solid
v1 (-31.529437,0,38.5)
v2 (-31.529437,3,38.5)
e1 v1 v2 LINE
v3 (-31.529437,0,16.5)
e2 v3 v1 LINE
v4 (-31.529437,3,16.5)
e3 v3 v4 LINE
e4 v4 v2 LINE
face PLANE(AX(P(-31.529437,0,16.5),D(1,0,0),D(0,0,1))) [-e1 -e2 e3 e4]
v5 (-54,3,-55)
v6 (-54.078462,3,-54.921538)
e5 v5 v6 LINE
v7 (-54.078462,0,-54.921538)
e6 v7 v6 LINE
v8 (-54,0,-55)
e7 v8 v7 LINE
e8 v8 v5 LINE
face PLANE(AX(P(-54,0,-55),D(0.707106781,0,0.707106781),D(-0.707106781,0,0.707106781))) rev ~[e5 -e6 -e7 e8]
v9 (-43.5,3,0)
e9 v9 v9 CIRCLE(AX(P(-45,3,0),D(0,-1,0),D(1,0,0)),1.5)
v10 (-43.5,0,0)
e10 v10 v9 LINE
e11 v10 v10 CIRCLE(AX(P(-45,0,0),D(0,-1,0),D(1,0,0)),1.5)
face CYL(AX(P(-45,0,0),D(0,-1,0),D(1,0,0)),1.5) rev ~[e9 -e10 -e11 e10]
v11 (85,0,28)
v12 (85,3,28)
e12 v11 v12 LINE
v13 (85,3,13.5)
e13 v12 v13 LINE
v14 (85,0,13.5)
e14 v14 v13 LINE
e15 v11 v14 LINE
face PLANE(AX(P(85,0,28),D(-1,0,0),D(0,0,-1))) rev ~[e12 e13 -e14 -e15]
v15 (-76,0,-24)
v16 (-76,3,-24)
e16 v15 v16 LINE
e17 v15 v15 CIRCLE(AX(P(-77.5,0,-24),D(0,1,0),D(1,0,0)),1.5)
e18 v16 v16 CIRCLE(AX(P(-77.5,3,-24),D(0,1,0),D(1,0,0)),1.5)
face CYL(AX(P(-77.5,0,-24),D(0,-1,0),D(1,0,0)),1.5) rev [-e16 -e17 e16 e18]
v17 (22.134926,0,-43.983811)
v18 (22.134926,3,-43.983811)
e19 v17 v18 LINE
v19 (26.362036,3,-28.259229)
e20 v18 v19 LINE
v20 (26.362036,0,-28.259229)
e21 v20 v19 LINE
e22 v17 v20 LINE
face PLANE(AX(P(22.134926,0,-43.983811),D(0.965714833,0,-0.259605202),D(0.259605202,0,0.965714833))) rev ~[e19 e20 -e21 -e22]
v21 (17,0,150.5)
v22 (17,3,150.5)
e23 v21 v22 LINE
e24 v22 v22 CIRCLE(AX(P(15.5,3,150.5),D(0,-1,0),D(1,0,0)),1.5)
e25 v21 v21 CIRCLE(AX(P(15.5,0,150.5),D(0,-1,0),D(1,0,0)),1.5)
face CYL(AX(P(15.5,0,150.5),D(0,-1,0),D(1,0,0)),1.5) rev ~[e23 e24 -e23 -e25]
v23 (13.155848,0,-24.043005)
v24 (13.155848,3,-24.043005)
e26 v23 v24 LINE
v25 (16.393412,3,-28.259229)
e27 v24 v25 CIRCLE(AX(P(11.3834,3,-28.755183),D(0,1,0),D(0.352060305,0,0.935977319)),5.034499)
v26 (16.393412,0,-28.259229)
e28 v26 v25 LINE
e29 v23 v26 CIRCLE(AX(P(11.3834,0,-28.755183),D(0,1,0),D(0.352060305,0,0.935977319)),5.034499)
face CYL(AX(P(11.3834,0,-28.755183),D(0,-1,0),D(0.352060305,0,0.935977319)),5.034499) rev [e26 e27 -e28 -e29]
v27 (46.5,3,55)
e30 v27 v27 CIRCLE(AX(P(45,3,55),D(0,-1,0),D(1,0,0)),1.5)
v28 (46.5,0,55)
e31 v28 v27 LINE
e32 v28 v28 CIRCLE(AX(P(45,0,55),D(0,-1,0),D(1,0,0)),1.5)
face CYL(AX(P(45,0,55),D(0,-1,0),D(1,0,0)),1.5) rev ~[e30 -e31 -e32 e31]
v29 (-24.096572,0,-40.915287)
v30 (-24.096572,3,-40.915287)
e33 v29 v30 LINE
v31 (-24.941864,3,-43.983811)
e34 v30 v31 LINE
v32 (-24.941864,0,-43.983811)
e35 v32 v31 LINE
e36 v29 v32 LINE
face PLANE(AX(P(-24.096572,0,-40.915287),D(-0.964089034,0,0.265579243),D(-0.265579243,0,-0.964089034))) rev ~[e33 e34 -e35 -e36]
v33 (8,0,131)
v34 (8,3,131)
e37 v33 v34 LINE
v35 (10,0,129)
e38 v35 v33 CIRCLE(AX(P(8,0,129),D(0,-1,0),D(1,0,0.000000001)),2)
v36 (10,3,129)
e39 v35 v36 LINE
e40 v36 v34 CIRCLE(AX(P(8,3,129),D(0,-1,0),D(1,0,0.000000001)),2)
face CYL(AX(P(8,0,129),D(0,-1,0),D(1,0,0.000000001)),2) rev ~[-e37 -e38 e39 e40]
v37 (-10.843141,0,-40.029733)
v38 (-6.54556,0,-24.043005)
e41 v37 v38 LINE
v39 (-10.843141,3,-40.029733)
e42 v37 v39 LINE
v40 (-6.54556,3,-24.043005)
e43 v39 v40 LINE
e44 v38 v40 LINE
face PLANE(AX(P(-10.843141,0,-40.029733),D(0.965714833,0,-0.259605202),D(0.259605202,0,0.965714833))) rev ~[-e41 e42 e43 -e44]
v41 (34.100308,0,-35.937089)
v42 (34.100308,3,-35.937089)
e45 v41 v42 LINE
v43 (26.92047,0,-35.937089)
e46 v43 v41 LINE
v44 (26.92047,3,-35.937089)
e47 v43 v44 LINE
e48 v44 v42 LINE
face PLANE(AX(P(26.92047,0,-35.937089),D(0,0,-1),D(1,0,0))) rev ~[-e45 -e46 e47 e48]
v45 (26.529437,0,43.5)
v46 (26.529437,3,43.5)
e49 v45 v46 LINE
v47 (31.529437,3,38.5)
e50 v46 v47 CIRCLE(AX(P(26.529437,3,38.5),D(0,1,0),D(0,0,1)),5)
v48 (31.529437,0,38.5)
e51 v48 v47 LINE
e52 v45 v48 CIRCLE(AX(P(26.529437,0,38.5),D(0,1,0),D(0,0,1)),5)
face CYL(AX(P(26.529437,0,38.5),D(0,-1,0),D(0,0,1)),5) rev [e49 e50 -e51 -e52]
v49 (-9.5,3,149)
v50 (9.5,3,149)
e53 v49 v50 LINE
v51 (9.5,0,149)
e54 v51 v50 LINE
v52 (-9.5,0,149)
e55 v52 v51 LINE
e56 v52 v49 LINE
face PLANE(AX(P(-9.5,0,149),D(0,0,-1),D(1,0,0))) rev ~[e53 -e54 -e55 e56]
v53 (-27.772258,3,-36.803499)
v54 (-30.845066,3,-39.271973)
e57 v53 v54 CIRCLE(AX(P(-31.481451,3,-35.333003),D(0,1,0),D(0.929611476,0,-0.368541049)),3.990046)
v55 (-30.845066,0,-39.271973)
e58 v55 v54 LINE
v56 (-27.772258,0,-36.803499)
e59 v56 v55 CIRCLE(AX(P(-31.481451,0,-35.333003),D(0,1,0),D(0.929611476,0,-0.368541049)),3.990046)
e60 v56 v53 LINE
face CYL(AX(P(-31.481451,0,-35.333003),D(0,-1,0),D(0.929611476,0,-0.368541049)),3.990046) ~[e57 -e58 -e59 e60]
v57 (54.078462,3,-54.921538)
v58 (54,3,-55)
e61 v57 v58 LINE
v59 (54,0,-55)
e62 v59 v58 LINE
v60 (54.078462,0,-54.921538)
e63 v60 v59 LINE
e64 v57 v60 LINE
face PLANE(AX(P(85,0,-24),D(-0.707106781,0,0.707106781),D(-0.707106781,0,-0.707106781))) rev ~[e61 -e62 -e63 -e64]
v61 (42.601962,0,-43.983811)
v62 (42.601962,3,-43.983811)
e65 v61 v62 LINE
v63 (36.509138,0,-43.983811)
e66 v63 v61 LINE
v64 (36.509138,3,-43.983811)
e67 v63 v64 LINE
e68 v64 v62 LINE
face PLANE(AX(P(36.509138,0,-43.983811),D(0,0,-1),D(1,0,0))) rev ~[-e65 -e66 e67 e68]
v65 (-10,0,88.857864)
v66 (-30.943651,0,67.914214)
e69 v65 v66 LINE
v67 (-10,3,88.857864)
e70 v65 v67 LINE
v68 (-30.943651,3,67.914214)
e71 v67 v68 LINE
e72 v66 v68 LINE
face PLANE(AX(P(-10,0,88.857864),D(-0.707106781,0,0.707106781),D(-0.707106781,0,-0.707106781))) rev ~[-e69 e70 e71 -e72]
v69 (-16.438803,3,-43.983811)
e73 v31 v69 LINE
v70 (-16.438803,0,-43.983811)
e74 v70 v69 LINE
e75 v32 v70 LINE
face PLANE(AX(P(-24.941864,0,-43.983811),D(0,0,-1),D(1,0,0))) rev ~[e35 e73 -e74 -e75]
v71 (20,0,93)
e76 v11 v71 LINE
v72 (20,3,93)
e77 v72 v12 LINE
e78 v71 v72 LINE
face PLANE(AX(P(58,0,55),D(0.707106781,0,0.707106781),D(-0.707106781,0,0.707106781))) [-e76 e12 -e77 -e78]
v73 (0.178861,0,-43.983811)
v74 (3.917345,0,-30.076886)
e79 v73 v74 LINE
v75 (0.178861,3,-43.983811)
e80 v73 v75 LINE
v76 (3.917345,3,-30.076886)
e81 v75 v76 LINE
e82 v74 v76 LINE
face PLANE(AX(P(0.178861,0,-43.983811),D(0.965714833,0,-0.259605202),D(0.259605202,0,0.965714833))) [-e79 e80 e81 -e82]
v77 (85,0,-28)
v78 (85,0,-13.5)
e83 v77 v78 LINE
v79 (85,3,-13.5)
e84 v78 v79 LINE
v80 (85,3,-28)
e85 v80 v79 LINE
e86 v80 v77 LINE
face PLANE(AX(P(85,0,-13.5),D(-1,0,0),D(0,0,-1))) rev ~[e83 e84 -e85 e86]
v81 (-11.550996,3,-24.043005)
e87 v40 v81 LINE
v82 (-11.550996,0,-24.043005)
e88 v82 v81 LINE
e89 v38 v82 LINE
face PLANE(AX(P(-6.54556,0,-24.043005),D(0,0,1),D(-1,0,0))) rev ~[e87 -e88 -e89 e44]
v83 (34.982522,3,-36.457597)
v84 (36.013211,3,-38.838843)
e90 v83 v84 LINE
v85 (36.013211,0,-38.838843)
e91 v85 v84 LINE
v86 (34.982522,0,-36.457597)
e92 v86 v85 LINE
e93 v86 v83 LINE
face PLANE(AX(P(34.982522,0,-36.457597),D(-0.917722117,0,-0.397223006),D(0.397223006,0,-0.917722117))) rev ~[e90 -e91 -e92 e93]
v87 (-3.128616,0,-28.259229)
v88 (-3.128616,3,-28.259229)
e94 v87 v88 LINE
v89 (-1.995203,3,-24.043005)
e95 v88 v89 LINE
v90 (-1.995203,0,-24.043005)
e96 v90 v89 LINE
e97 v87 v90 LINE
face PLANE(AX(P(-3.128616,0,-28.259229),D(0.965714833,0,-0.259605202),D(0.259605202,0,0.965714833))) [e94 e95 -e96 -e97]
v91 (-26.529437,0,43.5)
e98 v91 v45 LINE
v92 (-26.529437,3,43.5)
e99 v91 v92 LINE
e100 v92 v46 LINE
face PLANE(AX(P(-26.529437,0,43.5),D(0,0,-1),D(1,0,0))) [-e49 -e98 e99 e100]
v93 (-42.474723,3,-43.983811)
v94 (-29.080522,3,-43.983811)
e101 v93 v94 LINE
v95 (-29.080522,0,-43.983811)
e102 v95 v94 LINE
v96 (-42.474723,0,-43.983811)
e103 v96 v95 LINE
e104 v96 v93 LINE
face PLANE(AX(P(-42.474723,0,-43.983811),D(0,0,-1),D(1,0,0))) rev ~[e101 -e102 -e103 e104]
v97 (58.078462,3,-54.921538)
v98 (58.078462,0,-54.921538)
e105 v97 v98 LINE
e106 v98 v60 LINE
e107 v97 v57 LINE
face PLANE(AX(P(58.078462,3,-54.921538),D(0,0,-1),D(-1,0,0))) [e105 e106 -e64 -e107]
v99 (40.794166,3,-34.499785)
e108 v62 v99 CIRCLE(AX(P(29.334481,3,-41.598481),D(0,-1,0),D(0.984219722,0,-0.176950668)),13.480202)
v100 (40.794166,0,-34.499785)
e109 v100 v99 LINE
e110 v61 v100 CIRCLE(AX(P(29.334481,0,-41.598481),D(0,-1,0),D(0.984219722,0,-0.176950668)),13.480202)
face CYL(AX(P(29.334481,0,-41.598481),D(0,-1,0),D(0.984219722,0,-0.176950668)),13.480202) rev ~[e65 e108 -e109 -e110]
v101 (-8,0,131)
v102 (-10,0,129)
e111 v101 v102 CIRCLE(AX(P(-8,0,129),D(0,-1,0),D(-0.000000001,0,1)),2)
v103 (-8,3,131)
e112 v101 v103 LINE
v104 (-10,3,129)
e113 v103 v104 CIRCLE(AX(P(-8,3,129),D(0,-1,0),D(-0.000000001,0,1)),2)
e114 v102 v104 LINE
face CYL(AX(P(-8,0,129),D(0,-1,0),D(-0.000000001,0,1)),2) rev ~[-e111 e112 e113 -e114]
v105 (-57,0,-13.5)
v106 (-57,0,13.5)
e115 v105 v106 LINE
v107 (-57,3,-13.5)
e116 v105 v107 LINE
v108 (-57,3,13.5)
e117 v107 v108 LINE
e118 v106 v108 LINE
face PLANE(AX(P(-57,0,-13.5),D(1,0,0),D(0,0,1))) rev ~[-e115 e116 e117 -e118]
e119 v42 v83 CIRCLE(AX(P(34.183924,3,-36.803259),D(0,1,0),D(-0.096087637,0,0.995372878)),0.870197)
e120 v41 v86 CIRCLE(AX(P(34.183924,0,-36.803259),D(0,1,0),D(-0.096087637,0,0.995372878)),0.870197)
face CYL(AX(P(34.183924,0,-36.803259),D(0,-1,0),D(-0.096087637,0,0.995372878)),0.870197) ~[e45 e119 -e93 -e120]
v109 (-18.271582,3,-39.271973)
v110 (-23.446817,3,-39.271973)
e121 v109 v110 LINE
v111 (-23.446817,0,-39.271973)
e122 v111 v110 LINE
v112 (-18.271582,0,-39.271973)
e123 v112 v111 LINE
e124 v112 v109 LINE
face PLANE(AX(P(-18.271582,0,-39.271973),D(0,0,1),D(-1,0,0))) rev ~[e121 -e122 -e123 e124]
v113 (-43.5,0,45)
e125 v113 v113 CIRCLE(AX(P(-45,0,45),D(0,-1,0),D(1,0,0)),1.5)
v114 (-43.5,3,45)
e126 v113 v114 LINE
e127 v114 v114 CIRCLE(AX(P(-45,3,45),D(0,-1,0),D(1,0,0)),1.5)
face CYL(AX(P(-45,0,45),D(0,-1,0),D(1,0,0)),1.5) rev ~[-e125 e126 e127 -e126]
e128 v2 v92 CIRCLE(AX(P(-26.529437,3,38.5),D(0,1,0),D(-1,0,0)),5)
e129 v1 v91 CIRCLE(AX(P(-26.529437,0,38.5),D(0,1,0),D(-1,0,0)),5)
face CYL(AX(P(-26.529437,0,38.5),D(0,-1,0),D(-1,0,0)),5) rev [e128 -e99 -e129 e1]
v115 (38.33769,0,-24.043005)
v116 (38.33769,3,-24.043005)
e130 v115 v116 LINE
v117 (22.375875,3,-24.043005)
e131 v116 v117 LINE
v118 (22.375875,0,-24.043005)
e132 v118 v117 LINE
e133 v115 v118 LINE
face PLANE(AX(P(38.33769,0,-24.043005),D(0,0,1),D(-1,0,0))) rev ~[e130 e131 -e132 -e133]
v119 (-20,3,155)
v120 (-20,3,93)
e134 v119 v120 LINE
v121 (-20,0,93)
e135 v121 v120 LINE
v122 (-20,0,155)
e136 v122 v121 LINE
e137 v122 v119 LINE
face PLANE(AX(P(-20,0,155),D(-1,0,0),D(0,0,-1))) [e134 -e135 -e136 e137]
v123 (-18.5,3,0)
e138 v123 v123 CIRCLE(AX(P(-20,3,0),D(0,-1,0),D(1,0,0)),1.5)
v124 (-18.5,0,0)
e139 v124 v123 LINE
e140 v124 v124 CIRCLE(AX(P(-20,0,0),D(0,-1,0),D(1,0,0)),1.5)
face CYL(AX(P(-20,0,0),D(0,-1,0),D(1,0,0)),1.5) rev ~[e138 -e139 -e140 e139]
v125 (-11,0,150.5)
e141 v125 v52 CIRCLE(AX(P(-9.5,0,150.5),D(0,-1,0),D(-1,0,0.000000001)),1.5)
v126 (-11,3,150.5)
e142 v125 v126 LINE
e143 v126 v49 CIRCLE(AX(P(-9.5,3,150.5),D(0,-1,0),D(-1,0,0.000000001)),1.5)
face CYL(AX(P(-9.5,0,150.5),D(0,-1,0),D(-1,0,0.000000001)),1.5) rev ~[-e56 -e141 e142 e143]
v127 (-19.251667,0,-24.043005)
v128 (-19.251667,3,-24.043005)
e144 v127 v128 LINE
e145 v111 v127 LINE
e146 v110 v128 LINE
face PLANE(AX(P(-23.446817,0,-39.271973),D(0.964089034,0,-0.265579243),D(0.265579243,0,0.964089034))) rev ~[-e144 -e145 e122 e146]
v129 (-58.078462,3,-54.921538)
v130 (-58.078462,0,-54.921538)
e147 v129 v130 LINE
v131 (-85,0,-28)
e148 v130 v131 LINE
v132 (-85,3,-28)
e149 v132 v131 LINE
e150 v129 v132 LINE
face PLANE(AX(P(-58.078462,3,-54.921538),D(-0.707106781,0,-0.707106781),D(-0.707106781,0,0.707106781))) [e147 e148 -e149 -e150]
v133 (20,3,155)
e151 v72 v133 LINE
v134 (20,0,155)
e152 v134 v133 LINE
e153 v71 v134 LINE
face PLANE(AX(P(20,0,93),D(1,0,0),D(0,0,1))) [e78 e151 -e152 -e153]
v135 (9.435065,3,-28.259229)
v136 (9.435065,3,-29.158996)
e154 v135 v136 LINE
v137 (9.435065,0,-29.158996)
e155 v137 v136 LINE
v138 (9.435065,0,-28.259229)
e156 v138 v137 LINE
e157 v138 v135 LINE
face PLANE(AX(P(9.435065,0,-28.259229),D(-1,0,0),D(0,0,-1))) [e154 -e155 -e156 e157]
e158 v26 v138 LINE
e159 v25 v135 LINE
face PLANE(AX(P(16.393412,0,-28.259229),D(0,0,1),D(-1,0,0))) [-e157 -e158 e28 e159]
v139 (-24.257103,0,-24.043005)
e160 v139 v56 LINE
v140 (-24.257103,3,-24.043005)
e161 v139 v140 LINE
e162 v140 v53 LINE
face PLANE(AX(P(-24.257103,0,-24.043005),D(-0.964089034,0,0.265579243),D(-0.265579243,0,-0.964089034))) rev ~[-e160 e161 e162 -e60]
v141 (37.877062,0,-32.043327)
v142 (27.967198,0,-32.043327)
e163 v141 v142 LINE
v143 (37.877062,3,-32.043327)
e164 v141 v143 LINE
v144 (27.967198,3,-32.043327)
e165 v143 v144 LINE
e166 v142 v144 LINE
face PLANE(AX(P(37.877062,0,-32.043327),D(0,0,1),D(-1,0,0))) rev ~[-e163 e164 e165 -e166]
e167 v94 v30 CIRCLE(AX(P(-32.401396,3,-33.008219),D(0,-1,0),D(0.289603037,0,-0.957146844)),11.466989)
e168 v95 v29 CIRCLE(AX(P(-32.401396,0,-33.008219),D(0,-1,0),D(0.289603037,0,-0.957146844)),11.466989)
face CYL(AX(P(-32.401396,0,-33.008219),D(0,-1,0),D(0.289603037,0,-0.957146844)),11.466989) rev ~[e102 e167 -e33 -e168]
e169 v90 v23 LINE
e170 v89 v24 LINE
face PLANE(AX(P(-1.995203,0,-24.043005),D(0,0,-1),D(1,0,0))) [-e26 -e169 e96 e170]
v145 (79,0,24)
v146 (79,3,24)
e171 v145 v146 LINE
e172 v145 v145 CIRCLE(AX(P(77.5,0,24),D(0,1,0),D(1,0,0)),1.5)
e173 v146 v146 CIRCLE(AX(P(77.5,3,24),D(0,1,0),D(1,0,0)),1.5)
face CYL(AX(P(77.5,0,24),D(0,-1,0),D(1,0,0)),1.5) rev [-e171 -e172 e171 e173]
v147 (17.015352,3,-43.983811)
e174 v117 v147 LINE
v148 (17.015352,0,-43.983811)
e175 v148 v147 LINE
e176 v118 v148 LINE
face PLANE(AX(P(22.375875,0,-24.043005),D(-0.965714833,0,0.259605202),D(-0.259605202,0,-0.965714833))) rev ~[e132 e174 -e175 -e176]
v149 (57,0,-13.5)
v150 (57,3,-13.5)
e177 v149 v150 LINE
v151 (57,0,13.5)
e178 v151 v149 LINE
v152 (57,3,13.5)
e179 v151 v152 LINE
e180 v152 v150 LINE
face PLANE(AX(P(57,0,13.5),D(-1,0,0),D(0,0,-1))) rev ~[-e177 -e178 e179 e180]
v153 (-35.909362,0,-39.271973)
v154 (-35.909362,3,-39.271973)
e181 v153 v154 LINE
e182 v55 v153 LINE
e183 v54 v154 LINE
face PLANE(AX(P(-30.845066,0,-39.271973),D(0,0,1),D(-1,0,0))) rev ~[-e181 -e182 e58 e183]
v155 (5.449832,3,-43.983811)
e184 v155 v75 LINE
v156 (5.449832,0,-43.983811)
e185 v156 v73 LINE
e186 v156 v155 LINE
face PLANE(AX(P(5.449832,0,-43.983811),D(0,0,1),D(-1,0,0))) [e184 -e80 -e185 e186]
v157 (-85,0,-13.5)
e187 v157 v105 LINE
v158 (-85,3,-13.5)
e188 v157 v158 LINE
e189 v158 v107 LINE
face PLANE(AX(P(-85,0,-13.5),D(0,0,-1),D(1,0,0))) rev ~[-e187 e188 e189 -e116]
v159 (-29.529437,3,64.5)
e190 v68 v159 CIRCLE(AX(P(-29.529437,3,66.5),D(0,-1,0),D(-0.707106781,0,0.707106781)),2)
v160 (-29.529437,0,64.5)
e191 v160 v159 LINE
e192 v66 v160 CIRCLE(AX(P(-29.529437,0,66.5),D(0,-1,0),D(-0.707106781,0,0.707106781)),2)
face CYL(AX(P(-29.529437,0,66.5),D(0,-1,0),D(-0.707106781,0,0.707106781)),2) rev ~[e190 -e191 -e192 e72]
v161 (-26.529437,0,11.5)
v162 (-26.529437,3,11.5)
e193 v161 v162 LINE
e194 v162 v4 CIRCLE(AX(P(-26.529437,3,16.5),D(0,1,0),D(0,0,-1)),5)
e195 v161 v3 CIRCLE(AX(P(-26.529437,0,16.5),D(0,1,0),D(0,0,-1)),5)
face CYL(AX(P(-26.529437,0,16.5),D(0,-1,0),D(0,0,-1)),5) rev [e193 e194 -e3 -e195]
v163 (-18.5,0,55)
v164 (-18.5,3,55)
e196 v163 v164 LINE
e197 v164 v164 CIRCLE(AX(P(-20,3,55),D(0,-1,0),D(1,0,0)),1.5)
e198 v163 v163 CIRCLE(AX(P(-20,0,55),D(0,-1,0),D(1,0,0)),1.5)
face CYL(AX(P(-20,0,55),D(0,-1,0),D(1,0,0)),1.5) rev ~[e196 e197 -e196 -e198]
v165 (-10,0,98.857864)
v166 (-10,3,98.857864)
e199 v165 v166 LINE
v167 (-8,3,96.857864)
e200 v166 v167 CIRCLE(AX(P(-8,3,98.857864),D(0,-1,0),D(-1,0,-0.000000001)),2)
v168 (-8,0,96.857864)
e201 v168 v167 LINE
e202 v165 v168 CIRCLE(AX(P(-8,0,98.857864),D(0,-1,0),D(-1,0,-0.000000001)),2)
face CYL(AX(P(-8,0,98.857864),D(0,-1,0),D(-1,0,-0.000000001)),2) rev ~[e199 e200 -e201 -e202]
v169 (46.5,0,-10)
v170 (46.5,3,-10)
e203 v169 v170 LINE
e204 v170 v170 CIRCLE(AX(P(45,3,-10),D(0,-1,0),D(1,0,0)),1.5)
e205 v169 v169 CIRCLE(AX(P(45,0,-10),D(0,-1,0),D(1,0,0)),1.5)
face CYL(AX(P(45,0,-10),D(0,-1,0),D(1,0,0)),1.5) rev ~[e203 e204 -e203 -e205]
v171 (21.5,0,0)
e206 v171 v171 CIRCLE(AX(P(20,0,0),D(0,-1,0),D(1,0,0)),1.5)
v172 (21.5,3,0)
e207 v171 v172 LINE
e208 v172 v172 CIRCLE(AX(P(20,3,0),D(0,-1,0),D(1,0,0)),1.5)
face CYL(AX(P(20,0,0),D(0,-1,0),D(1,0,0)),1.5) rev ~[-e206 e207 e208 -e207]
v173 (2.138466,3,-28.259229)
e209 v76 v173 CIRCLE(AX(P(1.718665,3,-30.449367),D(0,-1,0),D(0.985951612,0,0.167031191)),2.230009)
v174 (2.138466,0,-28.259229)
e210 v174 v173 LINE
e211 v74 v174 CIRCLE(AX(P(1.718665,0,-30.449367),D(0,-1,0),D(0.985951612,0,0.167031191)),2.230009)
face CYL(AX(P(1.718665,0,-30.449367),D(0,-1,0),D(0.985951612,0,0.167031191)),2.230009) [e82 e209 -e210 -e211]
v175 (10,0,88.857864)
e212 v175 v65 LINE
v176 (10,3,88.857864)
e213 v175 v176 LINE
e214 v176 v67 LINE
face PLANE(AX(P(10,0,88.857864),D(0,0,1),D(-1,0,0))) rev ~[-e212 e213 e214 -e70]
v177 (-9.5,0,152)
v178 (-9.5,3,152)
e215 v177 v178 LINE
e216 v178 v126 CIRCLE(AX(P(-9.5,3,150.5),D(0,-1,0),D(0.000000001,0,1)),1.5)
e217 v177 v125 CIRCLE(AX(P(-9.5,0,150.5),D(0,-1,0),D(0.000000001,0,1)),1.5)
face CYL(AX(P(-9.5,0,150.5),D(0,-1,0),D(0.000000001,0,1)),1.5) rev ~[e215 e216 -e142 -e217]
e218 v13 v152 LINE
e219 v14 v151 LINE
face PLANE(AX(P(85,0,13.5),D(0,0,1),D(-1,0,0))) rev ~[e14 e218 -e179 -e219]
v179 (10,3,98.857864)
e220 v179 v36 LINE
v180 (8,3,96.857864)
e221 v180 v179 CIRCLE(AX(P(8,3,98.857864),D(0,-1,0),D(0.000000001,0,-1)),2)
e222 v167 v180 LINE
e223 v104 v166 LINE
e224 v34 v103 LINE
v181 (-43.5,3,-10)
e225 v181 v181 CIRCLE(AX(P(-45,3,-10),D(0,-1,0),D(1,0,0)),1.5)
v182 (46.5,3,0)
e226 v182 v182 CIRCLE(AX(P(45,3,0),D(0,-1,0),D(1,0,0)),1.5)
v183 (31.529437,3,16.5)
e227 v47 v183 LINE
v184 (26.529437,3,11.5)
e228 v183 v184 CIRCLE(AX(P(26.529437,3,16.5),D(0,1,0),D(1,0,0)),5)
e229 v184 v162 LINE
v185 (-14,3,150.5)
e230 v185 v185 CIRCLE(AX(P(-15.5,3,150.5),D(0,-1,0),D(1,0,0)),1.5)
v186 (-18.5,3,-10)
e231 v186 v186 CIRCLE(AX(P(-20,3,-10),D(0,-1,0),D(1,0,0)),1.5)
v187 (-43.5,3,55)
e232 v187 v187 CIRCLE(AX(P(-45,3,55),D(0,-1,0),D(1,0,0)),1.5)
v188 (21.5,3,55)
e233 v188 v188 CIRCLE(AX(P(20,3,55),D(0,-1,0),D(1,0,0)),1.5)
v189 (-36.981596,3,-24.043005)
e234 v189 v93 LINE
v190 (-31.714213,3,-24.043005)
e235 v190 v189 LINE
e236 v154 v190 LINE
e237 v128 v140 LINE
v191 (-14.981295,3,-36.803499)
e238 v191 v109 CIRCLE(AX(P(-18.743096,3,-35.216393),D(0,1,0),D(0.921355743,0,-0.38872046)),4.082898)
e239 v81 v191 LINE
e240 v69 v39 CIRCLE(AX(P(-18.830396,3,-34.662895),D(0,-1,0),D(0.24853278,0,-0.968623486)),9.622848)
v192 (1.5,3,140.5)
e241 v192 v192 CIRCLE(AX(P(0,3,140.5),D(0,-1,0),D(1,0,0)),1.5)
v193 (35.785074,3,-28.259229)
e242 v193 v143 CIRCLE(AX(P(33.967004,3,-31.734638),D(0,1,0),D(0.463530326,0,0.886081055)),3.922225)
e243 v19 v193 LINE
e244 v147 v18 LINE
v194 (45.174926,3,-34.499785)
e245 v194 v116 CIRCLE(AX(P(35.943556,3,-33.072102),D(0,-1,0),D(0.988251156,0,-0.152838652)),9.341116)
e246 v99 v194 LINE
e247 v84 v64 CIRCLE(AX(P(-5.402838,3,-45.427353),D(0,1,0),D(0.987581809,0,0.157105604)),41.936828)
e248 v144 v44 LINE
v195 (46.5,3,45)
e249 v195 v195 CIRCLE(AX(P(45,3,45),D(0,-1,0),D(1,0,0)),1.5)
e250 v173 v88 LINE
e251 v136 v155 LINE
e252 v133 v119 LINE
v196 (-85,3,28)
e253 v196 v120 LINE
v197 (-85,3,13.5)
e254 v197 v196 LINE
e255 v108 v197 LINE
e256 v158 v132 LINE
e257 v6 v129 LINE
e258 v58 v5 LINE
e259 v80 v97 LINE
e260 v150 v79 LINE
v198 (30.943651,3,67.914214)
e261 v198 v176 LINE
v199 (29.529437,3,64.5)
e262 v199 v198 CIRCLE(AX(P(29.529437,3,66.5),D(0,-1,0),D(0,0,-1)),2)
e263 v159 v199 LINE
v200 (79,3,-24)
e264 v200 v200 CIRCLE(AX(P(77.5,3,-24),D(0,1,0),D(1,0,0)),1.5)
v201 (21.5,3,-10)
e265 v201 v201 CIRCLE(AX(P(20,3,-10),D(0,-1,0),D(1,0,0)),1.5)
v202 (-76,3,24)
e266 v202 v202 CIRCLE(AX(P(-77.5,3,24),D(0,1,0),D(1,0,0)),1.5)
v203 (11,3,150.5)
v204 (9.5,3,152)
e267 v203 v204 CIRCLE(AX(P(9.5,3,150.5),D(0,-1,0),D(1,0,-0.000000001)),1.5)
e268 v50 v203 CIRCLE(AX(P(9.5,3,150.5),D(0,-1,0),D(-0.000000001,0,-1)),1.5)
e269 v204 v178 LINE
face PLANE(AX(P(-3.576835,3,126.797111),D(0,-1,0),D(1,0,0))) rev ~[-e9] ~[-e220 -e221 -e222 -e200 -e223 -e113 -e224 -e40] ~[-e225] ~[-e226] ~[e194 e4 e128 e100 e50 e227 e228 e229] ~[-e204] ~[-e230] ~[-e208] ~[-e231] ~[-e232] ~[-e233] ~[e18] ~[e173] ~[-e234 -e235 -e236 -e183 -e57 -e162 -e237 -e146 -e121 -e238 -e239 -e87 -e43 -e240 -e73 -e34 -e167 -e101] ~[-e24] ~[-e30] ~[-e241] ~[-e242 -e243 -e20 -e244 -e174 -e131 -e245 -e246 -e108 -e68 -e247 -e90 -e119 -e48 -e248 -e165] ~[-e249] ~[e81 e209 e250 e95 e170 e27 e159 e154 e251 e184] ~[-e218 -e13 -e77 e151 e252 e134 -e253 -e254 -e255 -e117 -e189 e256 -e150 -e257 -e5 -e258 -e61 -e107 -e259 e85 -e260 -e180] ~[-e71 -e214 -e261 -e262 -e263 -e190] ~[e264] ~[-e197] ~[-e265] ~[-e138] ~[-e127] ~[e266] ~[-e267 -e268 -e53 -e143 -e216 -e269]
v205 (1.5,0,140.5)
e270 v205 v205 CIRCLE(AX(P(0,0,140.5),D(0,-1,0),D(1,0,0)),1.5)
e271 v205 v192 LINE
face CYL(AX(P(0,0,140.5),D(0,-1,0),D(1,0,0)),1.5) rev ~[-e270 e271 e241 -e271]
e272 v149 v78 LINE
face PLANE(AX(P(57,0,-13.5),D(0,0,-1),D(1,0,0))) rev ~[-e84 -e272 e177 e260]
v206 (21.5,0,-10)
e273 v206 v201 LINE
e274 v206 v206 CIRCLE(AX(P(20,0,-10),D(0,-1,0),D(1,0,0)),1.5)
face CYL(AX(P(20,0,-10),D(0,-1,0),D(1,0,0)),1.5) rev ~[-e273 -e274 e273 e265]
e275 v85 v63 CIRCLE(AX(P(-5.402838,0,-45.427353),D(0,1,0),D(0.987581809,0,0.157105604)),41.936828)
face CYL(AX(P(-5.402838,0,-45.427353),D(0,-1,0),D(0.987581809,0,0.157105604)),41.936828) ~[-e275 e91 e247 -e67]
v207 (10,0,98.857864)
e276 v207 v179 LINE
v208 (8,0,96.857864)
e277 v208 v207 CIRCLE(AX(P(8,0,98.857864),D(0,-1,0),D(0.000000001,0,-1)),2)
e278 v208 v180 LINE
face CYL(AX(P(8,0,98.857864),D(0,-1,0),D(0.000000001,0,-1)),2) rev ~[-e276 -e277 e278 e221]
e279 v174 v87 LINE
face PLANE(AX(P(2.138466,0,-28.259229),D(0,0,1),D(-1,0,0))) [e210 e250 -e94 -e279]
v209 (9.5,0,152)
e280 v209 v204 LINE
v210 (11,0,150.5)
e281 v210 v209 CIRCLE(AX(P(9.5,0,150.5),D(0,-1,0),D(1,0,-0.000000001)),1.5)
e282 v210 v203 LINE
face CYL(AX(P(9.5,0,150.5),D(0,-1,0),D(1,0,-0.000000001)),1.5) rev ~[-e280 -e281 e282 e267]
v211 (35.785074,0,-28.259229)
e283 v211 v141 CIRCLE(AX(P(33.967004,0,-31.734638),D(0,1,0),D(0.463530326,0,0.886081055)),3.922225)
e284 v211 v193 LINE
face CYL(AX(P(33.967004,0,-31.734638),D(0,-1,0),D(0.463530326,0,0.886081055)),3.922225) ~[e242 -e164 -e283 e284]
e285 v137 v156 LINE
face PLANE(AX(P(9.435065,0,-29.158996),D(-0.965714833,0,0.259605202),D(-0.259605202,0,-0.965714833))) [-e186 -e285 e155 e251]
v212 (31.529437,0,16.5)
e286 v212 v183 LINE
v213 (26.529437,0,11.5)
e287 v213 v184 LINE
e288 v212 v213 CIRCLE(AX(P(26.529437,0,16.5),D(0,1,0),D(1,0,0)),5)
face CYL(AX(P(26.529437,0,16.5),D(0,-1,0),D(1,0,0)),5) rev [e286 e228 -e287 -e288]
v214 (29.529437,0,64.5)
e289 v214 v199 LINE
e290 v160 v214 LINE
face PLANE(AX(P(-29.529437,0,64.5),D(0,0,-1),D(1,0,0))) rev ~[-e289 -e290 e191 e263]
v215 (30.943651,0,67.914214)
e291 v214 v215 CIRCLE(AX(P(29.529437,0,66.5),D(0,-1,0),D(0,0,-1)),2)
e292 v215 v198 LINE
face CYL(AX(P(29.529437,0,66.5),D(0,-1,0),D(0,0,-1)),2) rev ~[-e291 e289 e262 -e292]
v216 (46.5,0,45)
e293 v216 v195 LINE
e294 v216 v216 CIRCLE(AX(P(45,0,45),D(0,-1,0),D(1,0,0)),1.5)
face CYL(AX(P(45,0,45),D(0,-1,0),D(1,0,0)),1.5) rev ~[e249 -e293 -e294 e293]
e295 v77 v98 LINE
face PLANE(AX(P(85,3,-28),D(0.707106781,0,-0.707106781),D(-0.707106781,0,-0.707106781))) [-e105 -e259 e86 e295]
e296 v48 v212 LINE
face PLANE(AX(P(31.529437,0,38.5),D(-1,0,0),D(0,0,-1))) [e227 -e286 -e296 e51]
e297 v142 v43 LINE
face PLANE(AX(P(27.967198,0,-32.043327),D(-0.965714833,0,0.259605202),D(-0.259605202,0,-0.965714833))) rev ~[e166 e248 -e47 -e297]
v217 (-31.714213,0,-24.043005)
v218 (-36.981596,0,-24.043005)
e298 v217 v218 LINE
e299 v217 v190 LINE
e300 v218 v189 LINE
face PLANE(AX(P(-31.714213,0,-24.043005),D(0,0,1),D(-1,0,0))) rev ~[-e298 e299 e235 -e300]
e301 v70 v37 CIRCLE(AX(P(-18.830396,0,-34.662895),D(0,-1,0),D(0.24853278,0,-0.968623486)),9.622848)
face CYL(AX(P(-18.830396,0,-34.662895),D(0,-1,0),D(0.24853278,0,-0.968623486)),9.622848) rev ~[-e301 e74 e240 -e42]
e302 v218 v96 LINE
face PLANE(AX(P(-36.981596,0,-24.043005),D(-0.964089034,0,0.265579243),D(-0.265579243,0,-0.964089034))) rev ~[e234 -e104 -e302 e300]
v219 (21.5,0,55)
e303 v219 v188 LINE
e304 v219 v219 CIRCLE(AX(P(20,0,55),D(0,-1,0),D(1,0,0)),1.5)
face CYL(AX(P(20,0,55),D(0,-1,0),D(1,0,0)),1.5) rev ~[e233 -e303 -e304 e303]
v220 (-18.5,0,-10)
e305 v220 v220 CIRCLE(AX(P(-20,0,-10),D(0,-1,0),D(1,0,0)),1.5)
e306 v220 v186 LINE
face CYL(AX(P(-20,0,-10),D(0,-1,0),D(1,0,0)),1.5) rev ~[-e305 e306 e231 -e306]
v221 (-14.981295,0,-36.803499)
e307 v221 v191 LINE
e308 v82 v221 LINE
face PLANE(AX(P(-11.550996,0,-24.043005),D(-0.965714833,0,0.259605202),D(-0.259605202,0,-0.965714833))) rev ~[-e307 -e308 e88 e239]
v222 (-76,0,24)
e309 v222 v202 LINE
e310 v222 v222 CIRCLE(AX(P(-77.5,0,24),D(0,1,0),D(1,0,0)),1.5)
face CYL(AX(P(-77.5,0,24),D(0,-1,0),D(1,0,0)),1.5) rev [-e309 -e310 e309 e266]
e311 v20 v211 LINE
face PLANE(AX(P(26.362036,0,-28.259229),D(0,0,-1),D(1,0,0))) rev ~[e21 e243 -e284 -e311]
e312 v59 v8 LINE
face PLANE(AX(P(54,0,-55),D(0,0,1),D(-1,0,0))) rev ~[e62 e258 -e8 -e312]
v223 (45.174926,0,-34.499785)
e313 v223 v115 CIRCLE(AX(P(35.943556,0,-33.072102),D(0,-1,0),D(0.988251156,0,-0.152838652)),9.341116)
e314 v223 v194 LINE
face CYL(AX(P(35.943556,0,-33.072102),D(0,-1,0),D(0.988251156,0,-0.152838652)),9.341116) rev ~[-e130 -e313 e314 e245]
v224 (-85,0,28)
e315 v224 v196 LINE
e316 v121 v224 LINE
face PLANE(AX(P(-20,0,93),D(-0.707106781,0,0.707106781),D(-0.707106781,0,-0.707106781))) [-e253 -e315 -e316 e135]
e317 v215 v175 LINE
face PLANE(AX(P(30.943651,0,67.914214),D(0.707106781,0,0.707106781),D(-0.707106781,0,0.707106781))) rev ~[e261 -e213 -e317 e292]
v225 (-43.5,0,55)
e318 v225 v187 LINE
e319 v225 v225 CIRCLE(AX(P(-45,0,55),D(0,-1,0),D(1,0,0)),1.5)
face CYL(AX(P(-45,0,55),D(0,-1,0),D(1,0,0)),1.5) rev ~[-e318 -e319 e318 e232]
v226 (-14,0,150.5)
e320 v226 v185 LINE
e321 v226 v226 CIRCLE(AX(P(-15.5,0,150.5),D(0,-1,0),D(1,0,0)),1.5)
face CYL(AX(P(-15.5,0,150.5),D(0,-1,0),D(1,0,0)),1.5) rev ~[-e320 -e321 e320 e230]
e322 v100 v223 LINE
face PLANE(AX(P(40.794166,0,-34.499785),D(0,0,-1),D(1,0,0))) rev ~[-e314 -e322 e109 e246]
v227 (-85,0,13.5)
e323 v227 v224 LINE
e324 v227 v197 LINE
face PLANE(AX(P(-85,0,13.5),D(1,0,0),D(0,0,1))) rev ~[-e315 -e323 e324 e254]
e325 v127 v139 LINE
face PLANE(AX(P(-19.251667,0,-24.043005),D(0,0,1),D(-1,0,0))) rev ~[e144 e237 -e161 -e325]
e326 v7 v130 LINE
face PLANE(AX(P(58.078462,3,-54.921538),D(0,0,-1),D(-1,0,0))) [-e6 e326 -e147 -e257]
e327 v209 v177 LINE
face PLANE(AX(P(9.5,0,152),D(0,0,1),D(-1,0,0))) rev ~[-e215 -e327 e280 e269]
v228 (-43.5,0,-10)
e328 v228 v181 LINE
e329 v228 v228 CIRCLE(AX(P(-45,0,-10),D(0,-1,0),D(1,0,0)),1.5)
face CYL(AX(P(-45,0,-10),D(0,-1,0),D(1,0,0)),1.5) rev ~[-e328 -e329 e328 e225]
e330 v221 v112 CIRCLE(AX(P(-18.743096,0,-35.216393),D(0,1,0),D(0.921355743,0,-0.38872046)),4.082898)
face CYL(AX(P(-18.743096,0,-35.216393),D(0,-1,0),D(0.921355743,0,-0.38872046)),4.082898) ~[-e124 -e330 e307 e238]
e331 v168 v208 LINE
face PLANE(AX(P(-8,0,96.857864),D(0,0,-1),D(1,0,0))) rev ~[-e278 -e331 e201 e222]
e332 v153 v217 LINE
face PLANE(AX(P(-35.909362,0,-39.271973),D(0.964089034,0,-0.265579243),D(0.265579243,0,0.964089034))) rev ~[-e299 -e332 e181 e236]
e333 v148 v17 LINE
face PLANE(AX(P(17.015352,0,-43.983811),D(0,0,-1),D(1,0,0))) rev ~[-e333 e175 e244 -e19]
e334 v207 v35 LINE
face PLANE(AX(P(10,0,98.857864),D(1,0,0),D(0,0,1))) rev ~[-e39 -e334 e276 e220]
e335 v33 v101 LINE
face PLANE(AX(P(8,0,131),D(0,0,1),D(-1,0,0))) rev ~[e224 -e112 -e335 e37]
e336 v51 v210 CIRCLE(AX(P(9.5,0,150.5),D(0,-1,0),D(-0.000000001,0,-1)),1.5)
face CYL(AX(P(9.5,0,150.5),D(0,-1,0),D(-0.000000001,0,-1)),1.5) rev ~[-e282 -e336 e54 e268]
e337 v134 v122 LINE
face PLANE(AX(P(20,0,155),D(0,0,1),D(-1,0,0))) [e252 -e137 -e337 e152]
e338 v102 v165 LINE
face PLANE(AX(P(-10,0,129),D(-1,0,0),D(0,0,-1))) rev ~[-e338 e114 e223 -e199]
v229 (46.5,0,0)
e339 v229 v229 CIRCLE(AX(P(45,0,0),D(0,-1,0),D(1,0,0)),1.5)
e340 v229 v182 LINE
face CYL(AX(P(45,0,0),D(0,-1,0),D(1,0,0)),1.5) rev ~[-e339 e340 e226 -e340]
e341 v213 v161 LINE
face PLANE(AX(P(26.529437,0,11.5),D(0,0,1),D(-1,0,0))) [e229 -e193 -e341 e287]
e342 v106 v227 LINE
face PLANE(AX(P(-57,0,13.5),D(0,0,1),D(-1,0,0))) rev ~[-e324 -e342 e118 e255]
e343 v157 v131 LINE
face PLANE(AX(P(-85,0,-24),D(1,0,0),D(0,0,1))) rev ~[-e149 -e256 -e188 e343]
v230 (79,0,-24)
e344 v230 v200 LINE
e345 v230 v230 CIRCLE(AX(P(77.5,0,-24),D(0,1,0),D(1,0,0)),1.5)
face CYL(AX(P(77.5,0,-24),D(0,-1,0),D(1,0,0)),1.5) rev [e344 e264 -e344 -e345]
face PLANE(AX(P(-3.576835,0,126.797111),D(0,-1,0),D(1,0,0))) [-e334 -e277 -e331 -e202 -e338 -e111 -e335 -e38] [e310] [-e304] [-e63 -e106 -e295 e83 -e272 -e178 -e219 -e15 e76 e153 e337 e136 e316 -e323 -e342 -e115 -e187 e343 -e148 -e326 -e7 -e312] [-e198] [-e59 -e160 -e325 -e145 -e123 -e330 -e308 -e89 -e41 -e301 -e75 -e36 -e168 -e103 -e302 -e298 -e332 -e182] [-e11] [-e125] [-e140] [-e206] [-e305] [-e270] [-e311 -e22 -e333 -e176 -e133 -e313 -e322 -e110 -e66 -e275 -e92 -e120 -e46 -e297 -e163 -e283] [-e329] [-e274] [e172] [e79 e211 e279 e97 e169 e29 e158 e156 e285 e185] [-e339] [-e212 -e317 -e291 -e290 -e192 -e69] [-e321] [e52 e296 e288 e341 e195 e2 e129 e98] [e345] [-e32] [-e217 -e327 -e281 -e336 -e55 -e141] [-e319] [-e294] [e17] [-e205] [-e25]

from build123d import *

# Parameters (mm, degrees)
SKETCH_1_R          = 1.5
EXTRUDE_1_DEPTH     = 3
SKETCH_2_R          = 1.5
EXTRUDE_2_DEPTH     = 3
EXTRUDE_6_DEPTH     = 3
CUT_EXTRUDE_1_DEPTH = 3
SKETCH_5_R          = 1.5
CUT_EXTRUDE_2_DEPTH = 3
SKETCH_6_R          = 1.5
CUT_EXTRUDE_5_DEPTH = 3
CUT_EXTRUDE_7_DEPTH = 3
CUT_EXTRUDE_9_DEPTH = 3


with BuildPart() as part:
    # 草图1 → 凸台-拉伸1 (new body)
    with BuildSketch(Plane(origin=(0, 0, 0), x_dir=(1, 0, 0), z_dir=(0, 1, 0))):
        Polygon((58, -55), (85, -28), (85, -13.5), (57, -13.5), (57, 13.5), (85, 13.5), (85, 24), (54, 55), (-54, 55), (-85, 24), (-85, 13.5), (-57, 13.5), (-57, -13.5), (-85, -13.5), (-85, -28), (-58, -55), align=None)
        with Locations((77.5, 24)):
            Circle(SKETCH_1_R, mode=Mode.SUBTRACT)
        with Locations((-77.5, 24)):
            Circle(SKETCH_1_R, mode=Mode.SUBTRACT)
        with Locations((-77.5, -24)):
            Circle(SKETCH_1_R, mode=Mode.SUBTRACT)
        with Locations((77.5, -24)):
            Circle(SKETCH_1_R, mode=Mode.SUBTRACT)
    extrude(amount=EXTRUDE_1_DEPTH)

    # 草图2 → 凸台-拉伸2 (add)
    with BuildSketch(Plane(origin=(0, 3, 0), x_dir=(1, 0, 0), z_dir=(0, 1, 0))):
        Polygon((57, 13.5), (85, 13.5), (85, 24), (54.078462186, 54.921537814), (-54.078462186, 54.921537814), (-85, 24), (-85, 13.5), (-57, 13.5), align=None)
        with Locations((-77.5, 24)):
            Circle(SKETCH_2_R, mode=Mode.SUBTRACT)
        with Locations((77.5, 24)):
            Circle(SKETCH_2_R, mode=Mode.SUBTRACT)
        Polygon((-85, 28), (-85, 24), (-54.078462186, 54.921537814), (-58.078462186, 54.921537814), align=None)
        Polygon((54.078462186, 54.921537814), (85, 24), (85, 28), (58.078462186, 54.921537814), align=None)
    extrude(amount=-EXTRUDE_2_DEPTH)

    # 草图3 → 凸台-拉伸6 (add)
    with BuildSketch(Plane.XZ):
        Polygon((-20, 93), (-20, 87.75862069), (20, 122.24137931), (20, 155), (-20, 155), align=None)
        Polygon((20, 122.24137931), (-20, 87.75862069), (-20, 55), (0, 55), (20, 55), (20, 93), align=None)
        Polygon((58, 55), (20, 93), (20, 55), align=None)
        Polygon((-20, 87.75862069), (-58, 55), (-20, 55), align=None)
        Polygon((-20, 93), (-58, 55), (-20, 87.75862069), align=None)
    extrude(amount=-EXTRUDE_6_DEPTH)

    # 草图4 → 切除-拉伸1 (cut)
    with BuildSketch(Plane.XZ):
        with BuildLine():
            Line((37.877062405, -32.043326777), (27.967198456, -32.043326777))
            Line((27.967198456, -32.043326777), (26.920470281, -35.937088984))
            Line((26.920470281, -35.937088984), (34.10030845, -35.937088984))
            ThreePointArc((34.10030845, -35.937088984), (34.626114104, -36.053786172), (34.982522159, -36.457596916))
            Line((34.982522159, -36.457596916), (36.01321058, -38.838842579))
            ThreePointArc((36.01321058, -38.838842579), (36.340515961, -41.403679155), (36.509138095, -43.983811332))
            Line((36.509138095, -43.983811332), (42.601961842, -43.983811332))
            ThreePointArc((42.601961842, -43.983811332), (42.5762659, -39.074399956), (40.794165727, -34.499785293))
            Line((40.794165727, -34.499785293), (45.17492554, -34.499785293))
            ThreePointArc((45.17492554, -34.499785293), (43.76174943, -27.96012409), (38.337690391, -24.04300539))
            Line((38.337690391, -24.04300539), (22.375875232, -24.04300539))
            Line((22.375875232, -24.04300539), (17.015351834, -43.983811332))
            Line((17.015351834, -43.983811332), (22.13492554, -43.983811332))
            Line((22.13492554, -43.983811332), (26.362036193, -28.259228683))
            Line((26.362036193, -28.259228683), (35.785074012, -28.259228683))
            ThreePointArc((35.785074012, -28.259228683), (37.399599712, -29.836972636), (37.877062405, -32.043326777))
        make_face()
        with BuildLine():
            Line((-11.550995986, -24.04300539), (-14.981294936, -36.803499209))
            ThreePointArc((-14.981294936, -36.803499209), (-16.292875485, -38.4823499), (-18.271581685, -39.271973198))
            Line((-18.271581685, -39.271973198), (-23.446816722, -39.271973198))
            Line((-23.446816722, -39.271973198), (-19.251667099, -24.04300539))
            Line((-19.251667099, -24.04300539), (-24.257103323, -24.04300539))
            Line((-24.257103323, -24.04300539), (-27.772258224, -36.803499209))
            ThreePointArc((-27.772258224, -36.803499209), (-28.982580606, -38.443648962), (-30.845065624, -39.271973198))
            Line((-30.845065624, -39.271973198), (-35.909362481, -39.271973198))
            Line((-35.909362481, -39.271973198), (-31.714212859, -24.04300539))
            Line((-31.714212859, -24.04300539), (-36.98159556, -24.04300539))
            Line((-36.98159556, -24.04300539), (-42.474723235, -43.983811332))
            Line((-42.474723235, -43.983811332), (-29.080521508, -43.983811332))
            ThreePointArc((-29.080521508, -43.983811332), (-26.38947659, -42.772882703), (-24.096572177, -40.915287416))
            Line((-24.096572177, -40.915287416), (-24.941863671, -43.983811332))
            Line((-24.941863671, -43.983811332), (-16.438803025, -43.983811332))
            ThreePointArc((-16.438803025, -43.983811332), (-13.277126117, -42.521672977), (-10.843140715, -40.02973307))
            Line((-10.843140715, -40.02973307), (-6.545559762, -24.04300539))
            Line((-6.545559762, -24.04300539), (-11.550995986, -24.04300539))
        make_face()
        with BuildLine():
            Line((0.178860657, -43.983811332), (3.91734543, -30.076885861))
            ThreePointArc((3.91734543, -30.076885861), (3.312428033, -28.889604932), (2.138466003, -28.259228683))
            Line((2.138466003, -28.259228683), (-3.128615616, -28.259228683))
            Line((-3.128615616, -28.259228683), (-1.99520287, -24.04300539))
            Line((-1.99520287, -24.04300539), (13.155847737, -24.04300539))
            ThreePointArc((13.155847737, -24.04300539), (15.376465747, -25.688977693), (16.393411668, -28.259228683))
            Line((16.393411668, -28.259228683), (9.435065309, -28.259228683))
            Line((9.435065309, -28.259228683), (9.435065309, -29.158996281))
            Line((9.435065309, -29.158996281), (5.449831804, -43.983811332))
            Line((5.449831804, -43.983811332), (0.178860657, -43.983811332))
        make_face()
    extrude(amount=-CUT_EXTRUDE_1_DEPTH, mode=Mode.SUBTRACT)

    # 草图5 → 切除-拉伸2 (cut)
    with BuildSketch(Plane.XZ):
        with Locations((45, 55)):
            Circle(SKETCH_5_R)
        with Locations((-45, 55)):
            Circle(SKETCH_5_R)
        with Locations((20, 55)):
            Circle(SKETCH_5_R)
        with Locations((-20, 55)):
            Circle(SKETCH_5_R)
        with Locations((45, 45)):
            Circle(SKETCH_5_R)
        with Locations((-45, 45)):
            Circle(SKETCH_5_R)
        with Locations((-45, 0)):
            Circle(SKETCH_5_R)
        with Locations((45, 0)):
            Circle(SKETCH_5_R)
        with Locations((45, -10)):
            Circle(SKETCH_5_R)
        with Locations((-45, -10)):
            Circle(SKETCH_5_R)
        with Locations((20, 0)):
            Circle(SKETCH_5_R)
        with Locations((-20, 0)):
            Circle(SKETCH_5_R)
        with Locations((20, -10)):
            Circle(SKETCH_5_R)
        with Locations((-20, -10)):
            Circle(SKETCH_5_R)
    extrude(amount=-CUT_EXTRUDE_2_DEPTH, mode=Mode.SUBTRACT)

    # 草图6 → 切除-拉伸5 (cut)
    with BuildSketch(Plane.XZ):
        with BuildLine():
            Line((0, 150.5), (0, 152))
            Line((0, 152), (-9.5, 152))
            ThreePointArc((-9.5, 152), (-8.439339828, 151.560660172), (-8, 150.5))
            Line((-8, 150.5), (0, 150.5))
        make_face()
        with BuildLine():
            Line((0, 149), (0, 150.5))
            Line((0, 150.5), (-8, 150.5))
            ThreePointArc((-8, 150.5), (-8.439339828, 149.439339828), (-9.5, 149))
            Line((-9.5, 149), (0, 149))
        make_face()
        with BuildLine():
            ThreePointArc((-8, 150.5), (-8.439339828, 151.560660172), (-9.5, 152))
            ThreePointArc((-9.5, 152), (-10.560660172, 151.560660172), (-11, 150.5))
            Line((-11, 150.5), (-8, 150.5))
        make_face()
        with BuildLine():
            ThreePointArc((-9.5, 149), (-8.439339828, 149.439339828), (-8, 150.5))
            Line((-8, 150.5), (-11, 150.5))
            ThreePointArc((-11, 150.5), (-10.560660172, 149.439339828), (-9.5, 149))
        make_face()
        with BuildLine():
            Line((9.5, 152), (0, 152))
            Line((0, 152), (0, 150.5))
            Line((0, 150.5), (8, 150.5))
            ThreePointArc((8, 150.5), (8.439339828, 151.560660172), (9.5, 152))
        make_face()
        with BuildLine():
            Line((8, 150.5), (0, 150.5))
            Line((0, 150.5), (0, 149))
            Line((0, 149), (9.5, 149))
            ThreePointArc((9.5, 149), (8.439339828, 149.439339828), (8, 150.5))
        make_face()
        with BuildLine():
            ThreePointArc((11, 150.5), (10.560660172, 151.560660172), (9.5, 152))
            ThreePointArc((9.5, 152), (8.439339828, 151.560660172), (8, 150.5))
            Line((8, 150.5), (9.5, 150.5))
            Line((9.5, 150.5), (11, 150.5))
        make_face()
        with BuildLine():
            Line((9.5, 150.5), (8, 150.5))
            ThreePointArc((8, 150.5), (8.439339828, 149.439339828), (9.5, 149))
            ThreePointArc((9.5, 149), (10.560660172, 149.439339828), (11, 150.5))
            Line((11, 150.5), (9.5, 150.5))
        make_face()
        with Locations((0, 140.5)):
            Circle(SKETCH_6_R)
        with Locations((-15.5, 150.5)):
            Circle(SKETCH_6_R)
        with Locations((15.5, 150.5)):
            Circle(SKETCH_6_R)
    extrude(amount=-CUT_EXTRUDE_5_DEPTH, mode=Mode.SUBTRACT)

    # 草图7 → 切除-拉伸7 (cut)
    with BuildSketch(Plane.XZ):
        with BuildLine():
            ThreePointArc((-8, 131), (-9.414213562, 130.414213562), (-10, 129))
            Line((-10, 129), (-10, 98.857864376))
            ThreePointArc((-10, 98.857864376), (-9.414213562, 97.443650814), (-8, 96.857864376))
            Line((-8, 96.857864376), (8, 96.857864376))
            ThreePointArc((8, 96.857864376), (9.414213562, 97.443650814), (10, 98.857864376))
            Line((10, 98.857864376), (10, 129))
            ThreePointArc((10, 129), (9.414213562, 130.414213562), (8, 131))
            Line((8, 131), (-8, 131))
        make_face()
        with BuildLine():
            Line((10, 88.857864376), (-10, 88.857864376))
            Line((-10, 88.857864376), (-30.943650814, 67.914213562))
            ThreePointArc((-30.943650814, 67.914213562), (-31.377196317, 65.734633135), (-29.529437252, 64.5))
            Line((-29.529437252, 64.5), (29.529437252, 64.5))
            ThreePointArc((29.529437252, 64.5), (31.377196317, 65.734633135), (30.943650814, 67.914213562))
            Line((30.943650814, 67.914213562), (10, 88.857864376))
        make_face()
    extrude(amount=-CUT_EXTRUDE_7_DEPTH, mode=Mode.SUBTRACT)

    # 草图8 → 切除-拉伸9 (cut)
    with BuildSketch(Plane.XZ):
        with BuildLine():
            Line((31.529437252, 38.5), (31.529437252, 16.5))
            ThreePointArc((31.529437252, 16.5), (30.064971157, 12.964466094), (26.529437252, 11.5))
            Line((26.529437252, 11.5), (-26.529437252, 11.5))
            ThreePointArc((-26.529437252, 11.5), (-30.064971157, 12.964466094), (-31.529437252, 16.5))
            Line((-31.529437252, 16.5), (-31.529437252, 38.5))
            ThreePointArc((-31.529437252, 38.5), (-30.064971157, 42.035533906), (-26.529437252, 43.5))
            Line((-26.529437252, 43.5), (26.529437252, 43.5))
            ThreePointArc((26.529437252, 43.5), (30.064971157, 42.035533906), (31.529437252, 38.5))
        make_face()
    extrude(amount=-CUT_EXTRUDE_9_DEPTH, mode=Mode.SUBTRACT)


solid = part.part
